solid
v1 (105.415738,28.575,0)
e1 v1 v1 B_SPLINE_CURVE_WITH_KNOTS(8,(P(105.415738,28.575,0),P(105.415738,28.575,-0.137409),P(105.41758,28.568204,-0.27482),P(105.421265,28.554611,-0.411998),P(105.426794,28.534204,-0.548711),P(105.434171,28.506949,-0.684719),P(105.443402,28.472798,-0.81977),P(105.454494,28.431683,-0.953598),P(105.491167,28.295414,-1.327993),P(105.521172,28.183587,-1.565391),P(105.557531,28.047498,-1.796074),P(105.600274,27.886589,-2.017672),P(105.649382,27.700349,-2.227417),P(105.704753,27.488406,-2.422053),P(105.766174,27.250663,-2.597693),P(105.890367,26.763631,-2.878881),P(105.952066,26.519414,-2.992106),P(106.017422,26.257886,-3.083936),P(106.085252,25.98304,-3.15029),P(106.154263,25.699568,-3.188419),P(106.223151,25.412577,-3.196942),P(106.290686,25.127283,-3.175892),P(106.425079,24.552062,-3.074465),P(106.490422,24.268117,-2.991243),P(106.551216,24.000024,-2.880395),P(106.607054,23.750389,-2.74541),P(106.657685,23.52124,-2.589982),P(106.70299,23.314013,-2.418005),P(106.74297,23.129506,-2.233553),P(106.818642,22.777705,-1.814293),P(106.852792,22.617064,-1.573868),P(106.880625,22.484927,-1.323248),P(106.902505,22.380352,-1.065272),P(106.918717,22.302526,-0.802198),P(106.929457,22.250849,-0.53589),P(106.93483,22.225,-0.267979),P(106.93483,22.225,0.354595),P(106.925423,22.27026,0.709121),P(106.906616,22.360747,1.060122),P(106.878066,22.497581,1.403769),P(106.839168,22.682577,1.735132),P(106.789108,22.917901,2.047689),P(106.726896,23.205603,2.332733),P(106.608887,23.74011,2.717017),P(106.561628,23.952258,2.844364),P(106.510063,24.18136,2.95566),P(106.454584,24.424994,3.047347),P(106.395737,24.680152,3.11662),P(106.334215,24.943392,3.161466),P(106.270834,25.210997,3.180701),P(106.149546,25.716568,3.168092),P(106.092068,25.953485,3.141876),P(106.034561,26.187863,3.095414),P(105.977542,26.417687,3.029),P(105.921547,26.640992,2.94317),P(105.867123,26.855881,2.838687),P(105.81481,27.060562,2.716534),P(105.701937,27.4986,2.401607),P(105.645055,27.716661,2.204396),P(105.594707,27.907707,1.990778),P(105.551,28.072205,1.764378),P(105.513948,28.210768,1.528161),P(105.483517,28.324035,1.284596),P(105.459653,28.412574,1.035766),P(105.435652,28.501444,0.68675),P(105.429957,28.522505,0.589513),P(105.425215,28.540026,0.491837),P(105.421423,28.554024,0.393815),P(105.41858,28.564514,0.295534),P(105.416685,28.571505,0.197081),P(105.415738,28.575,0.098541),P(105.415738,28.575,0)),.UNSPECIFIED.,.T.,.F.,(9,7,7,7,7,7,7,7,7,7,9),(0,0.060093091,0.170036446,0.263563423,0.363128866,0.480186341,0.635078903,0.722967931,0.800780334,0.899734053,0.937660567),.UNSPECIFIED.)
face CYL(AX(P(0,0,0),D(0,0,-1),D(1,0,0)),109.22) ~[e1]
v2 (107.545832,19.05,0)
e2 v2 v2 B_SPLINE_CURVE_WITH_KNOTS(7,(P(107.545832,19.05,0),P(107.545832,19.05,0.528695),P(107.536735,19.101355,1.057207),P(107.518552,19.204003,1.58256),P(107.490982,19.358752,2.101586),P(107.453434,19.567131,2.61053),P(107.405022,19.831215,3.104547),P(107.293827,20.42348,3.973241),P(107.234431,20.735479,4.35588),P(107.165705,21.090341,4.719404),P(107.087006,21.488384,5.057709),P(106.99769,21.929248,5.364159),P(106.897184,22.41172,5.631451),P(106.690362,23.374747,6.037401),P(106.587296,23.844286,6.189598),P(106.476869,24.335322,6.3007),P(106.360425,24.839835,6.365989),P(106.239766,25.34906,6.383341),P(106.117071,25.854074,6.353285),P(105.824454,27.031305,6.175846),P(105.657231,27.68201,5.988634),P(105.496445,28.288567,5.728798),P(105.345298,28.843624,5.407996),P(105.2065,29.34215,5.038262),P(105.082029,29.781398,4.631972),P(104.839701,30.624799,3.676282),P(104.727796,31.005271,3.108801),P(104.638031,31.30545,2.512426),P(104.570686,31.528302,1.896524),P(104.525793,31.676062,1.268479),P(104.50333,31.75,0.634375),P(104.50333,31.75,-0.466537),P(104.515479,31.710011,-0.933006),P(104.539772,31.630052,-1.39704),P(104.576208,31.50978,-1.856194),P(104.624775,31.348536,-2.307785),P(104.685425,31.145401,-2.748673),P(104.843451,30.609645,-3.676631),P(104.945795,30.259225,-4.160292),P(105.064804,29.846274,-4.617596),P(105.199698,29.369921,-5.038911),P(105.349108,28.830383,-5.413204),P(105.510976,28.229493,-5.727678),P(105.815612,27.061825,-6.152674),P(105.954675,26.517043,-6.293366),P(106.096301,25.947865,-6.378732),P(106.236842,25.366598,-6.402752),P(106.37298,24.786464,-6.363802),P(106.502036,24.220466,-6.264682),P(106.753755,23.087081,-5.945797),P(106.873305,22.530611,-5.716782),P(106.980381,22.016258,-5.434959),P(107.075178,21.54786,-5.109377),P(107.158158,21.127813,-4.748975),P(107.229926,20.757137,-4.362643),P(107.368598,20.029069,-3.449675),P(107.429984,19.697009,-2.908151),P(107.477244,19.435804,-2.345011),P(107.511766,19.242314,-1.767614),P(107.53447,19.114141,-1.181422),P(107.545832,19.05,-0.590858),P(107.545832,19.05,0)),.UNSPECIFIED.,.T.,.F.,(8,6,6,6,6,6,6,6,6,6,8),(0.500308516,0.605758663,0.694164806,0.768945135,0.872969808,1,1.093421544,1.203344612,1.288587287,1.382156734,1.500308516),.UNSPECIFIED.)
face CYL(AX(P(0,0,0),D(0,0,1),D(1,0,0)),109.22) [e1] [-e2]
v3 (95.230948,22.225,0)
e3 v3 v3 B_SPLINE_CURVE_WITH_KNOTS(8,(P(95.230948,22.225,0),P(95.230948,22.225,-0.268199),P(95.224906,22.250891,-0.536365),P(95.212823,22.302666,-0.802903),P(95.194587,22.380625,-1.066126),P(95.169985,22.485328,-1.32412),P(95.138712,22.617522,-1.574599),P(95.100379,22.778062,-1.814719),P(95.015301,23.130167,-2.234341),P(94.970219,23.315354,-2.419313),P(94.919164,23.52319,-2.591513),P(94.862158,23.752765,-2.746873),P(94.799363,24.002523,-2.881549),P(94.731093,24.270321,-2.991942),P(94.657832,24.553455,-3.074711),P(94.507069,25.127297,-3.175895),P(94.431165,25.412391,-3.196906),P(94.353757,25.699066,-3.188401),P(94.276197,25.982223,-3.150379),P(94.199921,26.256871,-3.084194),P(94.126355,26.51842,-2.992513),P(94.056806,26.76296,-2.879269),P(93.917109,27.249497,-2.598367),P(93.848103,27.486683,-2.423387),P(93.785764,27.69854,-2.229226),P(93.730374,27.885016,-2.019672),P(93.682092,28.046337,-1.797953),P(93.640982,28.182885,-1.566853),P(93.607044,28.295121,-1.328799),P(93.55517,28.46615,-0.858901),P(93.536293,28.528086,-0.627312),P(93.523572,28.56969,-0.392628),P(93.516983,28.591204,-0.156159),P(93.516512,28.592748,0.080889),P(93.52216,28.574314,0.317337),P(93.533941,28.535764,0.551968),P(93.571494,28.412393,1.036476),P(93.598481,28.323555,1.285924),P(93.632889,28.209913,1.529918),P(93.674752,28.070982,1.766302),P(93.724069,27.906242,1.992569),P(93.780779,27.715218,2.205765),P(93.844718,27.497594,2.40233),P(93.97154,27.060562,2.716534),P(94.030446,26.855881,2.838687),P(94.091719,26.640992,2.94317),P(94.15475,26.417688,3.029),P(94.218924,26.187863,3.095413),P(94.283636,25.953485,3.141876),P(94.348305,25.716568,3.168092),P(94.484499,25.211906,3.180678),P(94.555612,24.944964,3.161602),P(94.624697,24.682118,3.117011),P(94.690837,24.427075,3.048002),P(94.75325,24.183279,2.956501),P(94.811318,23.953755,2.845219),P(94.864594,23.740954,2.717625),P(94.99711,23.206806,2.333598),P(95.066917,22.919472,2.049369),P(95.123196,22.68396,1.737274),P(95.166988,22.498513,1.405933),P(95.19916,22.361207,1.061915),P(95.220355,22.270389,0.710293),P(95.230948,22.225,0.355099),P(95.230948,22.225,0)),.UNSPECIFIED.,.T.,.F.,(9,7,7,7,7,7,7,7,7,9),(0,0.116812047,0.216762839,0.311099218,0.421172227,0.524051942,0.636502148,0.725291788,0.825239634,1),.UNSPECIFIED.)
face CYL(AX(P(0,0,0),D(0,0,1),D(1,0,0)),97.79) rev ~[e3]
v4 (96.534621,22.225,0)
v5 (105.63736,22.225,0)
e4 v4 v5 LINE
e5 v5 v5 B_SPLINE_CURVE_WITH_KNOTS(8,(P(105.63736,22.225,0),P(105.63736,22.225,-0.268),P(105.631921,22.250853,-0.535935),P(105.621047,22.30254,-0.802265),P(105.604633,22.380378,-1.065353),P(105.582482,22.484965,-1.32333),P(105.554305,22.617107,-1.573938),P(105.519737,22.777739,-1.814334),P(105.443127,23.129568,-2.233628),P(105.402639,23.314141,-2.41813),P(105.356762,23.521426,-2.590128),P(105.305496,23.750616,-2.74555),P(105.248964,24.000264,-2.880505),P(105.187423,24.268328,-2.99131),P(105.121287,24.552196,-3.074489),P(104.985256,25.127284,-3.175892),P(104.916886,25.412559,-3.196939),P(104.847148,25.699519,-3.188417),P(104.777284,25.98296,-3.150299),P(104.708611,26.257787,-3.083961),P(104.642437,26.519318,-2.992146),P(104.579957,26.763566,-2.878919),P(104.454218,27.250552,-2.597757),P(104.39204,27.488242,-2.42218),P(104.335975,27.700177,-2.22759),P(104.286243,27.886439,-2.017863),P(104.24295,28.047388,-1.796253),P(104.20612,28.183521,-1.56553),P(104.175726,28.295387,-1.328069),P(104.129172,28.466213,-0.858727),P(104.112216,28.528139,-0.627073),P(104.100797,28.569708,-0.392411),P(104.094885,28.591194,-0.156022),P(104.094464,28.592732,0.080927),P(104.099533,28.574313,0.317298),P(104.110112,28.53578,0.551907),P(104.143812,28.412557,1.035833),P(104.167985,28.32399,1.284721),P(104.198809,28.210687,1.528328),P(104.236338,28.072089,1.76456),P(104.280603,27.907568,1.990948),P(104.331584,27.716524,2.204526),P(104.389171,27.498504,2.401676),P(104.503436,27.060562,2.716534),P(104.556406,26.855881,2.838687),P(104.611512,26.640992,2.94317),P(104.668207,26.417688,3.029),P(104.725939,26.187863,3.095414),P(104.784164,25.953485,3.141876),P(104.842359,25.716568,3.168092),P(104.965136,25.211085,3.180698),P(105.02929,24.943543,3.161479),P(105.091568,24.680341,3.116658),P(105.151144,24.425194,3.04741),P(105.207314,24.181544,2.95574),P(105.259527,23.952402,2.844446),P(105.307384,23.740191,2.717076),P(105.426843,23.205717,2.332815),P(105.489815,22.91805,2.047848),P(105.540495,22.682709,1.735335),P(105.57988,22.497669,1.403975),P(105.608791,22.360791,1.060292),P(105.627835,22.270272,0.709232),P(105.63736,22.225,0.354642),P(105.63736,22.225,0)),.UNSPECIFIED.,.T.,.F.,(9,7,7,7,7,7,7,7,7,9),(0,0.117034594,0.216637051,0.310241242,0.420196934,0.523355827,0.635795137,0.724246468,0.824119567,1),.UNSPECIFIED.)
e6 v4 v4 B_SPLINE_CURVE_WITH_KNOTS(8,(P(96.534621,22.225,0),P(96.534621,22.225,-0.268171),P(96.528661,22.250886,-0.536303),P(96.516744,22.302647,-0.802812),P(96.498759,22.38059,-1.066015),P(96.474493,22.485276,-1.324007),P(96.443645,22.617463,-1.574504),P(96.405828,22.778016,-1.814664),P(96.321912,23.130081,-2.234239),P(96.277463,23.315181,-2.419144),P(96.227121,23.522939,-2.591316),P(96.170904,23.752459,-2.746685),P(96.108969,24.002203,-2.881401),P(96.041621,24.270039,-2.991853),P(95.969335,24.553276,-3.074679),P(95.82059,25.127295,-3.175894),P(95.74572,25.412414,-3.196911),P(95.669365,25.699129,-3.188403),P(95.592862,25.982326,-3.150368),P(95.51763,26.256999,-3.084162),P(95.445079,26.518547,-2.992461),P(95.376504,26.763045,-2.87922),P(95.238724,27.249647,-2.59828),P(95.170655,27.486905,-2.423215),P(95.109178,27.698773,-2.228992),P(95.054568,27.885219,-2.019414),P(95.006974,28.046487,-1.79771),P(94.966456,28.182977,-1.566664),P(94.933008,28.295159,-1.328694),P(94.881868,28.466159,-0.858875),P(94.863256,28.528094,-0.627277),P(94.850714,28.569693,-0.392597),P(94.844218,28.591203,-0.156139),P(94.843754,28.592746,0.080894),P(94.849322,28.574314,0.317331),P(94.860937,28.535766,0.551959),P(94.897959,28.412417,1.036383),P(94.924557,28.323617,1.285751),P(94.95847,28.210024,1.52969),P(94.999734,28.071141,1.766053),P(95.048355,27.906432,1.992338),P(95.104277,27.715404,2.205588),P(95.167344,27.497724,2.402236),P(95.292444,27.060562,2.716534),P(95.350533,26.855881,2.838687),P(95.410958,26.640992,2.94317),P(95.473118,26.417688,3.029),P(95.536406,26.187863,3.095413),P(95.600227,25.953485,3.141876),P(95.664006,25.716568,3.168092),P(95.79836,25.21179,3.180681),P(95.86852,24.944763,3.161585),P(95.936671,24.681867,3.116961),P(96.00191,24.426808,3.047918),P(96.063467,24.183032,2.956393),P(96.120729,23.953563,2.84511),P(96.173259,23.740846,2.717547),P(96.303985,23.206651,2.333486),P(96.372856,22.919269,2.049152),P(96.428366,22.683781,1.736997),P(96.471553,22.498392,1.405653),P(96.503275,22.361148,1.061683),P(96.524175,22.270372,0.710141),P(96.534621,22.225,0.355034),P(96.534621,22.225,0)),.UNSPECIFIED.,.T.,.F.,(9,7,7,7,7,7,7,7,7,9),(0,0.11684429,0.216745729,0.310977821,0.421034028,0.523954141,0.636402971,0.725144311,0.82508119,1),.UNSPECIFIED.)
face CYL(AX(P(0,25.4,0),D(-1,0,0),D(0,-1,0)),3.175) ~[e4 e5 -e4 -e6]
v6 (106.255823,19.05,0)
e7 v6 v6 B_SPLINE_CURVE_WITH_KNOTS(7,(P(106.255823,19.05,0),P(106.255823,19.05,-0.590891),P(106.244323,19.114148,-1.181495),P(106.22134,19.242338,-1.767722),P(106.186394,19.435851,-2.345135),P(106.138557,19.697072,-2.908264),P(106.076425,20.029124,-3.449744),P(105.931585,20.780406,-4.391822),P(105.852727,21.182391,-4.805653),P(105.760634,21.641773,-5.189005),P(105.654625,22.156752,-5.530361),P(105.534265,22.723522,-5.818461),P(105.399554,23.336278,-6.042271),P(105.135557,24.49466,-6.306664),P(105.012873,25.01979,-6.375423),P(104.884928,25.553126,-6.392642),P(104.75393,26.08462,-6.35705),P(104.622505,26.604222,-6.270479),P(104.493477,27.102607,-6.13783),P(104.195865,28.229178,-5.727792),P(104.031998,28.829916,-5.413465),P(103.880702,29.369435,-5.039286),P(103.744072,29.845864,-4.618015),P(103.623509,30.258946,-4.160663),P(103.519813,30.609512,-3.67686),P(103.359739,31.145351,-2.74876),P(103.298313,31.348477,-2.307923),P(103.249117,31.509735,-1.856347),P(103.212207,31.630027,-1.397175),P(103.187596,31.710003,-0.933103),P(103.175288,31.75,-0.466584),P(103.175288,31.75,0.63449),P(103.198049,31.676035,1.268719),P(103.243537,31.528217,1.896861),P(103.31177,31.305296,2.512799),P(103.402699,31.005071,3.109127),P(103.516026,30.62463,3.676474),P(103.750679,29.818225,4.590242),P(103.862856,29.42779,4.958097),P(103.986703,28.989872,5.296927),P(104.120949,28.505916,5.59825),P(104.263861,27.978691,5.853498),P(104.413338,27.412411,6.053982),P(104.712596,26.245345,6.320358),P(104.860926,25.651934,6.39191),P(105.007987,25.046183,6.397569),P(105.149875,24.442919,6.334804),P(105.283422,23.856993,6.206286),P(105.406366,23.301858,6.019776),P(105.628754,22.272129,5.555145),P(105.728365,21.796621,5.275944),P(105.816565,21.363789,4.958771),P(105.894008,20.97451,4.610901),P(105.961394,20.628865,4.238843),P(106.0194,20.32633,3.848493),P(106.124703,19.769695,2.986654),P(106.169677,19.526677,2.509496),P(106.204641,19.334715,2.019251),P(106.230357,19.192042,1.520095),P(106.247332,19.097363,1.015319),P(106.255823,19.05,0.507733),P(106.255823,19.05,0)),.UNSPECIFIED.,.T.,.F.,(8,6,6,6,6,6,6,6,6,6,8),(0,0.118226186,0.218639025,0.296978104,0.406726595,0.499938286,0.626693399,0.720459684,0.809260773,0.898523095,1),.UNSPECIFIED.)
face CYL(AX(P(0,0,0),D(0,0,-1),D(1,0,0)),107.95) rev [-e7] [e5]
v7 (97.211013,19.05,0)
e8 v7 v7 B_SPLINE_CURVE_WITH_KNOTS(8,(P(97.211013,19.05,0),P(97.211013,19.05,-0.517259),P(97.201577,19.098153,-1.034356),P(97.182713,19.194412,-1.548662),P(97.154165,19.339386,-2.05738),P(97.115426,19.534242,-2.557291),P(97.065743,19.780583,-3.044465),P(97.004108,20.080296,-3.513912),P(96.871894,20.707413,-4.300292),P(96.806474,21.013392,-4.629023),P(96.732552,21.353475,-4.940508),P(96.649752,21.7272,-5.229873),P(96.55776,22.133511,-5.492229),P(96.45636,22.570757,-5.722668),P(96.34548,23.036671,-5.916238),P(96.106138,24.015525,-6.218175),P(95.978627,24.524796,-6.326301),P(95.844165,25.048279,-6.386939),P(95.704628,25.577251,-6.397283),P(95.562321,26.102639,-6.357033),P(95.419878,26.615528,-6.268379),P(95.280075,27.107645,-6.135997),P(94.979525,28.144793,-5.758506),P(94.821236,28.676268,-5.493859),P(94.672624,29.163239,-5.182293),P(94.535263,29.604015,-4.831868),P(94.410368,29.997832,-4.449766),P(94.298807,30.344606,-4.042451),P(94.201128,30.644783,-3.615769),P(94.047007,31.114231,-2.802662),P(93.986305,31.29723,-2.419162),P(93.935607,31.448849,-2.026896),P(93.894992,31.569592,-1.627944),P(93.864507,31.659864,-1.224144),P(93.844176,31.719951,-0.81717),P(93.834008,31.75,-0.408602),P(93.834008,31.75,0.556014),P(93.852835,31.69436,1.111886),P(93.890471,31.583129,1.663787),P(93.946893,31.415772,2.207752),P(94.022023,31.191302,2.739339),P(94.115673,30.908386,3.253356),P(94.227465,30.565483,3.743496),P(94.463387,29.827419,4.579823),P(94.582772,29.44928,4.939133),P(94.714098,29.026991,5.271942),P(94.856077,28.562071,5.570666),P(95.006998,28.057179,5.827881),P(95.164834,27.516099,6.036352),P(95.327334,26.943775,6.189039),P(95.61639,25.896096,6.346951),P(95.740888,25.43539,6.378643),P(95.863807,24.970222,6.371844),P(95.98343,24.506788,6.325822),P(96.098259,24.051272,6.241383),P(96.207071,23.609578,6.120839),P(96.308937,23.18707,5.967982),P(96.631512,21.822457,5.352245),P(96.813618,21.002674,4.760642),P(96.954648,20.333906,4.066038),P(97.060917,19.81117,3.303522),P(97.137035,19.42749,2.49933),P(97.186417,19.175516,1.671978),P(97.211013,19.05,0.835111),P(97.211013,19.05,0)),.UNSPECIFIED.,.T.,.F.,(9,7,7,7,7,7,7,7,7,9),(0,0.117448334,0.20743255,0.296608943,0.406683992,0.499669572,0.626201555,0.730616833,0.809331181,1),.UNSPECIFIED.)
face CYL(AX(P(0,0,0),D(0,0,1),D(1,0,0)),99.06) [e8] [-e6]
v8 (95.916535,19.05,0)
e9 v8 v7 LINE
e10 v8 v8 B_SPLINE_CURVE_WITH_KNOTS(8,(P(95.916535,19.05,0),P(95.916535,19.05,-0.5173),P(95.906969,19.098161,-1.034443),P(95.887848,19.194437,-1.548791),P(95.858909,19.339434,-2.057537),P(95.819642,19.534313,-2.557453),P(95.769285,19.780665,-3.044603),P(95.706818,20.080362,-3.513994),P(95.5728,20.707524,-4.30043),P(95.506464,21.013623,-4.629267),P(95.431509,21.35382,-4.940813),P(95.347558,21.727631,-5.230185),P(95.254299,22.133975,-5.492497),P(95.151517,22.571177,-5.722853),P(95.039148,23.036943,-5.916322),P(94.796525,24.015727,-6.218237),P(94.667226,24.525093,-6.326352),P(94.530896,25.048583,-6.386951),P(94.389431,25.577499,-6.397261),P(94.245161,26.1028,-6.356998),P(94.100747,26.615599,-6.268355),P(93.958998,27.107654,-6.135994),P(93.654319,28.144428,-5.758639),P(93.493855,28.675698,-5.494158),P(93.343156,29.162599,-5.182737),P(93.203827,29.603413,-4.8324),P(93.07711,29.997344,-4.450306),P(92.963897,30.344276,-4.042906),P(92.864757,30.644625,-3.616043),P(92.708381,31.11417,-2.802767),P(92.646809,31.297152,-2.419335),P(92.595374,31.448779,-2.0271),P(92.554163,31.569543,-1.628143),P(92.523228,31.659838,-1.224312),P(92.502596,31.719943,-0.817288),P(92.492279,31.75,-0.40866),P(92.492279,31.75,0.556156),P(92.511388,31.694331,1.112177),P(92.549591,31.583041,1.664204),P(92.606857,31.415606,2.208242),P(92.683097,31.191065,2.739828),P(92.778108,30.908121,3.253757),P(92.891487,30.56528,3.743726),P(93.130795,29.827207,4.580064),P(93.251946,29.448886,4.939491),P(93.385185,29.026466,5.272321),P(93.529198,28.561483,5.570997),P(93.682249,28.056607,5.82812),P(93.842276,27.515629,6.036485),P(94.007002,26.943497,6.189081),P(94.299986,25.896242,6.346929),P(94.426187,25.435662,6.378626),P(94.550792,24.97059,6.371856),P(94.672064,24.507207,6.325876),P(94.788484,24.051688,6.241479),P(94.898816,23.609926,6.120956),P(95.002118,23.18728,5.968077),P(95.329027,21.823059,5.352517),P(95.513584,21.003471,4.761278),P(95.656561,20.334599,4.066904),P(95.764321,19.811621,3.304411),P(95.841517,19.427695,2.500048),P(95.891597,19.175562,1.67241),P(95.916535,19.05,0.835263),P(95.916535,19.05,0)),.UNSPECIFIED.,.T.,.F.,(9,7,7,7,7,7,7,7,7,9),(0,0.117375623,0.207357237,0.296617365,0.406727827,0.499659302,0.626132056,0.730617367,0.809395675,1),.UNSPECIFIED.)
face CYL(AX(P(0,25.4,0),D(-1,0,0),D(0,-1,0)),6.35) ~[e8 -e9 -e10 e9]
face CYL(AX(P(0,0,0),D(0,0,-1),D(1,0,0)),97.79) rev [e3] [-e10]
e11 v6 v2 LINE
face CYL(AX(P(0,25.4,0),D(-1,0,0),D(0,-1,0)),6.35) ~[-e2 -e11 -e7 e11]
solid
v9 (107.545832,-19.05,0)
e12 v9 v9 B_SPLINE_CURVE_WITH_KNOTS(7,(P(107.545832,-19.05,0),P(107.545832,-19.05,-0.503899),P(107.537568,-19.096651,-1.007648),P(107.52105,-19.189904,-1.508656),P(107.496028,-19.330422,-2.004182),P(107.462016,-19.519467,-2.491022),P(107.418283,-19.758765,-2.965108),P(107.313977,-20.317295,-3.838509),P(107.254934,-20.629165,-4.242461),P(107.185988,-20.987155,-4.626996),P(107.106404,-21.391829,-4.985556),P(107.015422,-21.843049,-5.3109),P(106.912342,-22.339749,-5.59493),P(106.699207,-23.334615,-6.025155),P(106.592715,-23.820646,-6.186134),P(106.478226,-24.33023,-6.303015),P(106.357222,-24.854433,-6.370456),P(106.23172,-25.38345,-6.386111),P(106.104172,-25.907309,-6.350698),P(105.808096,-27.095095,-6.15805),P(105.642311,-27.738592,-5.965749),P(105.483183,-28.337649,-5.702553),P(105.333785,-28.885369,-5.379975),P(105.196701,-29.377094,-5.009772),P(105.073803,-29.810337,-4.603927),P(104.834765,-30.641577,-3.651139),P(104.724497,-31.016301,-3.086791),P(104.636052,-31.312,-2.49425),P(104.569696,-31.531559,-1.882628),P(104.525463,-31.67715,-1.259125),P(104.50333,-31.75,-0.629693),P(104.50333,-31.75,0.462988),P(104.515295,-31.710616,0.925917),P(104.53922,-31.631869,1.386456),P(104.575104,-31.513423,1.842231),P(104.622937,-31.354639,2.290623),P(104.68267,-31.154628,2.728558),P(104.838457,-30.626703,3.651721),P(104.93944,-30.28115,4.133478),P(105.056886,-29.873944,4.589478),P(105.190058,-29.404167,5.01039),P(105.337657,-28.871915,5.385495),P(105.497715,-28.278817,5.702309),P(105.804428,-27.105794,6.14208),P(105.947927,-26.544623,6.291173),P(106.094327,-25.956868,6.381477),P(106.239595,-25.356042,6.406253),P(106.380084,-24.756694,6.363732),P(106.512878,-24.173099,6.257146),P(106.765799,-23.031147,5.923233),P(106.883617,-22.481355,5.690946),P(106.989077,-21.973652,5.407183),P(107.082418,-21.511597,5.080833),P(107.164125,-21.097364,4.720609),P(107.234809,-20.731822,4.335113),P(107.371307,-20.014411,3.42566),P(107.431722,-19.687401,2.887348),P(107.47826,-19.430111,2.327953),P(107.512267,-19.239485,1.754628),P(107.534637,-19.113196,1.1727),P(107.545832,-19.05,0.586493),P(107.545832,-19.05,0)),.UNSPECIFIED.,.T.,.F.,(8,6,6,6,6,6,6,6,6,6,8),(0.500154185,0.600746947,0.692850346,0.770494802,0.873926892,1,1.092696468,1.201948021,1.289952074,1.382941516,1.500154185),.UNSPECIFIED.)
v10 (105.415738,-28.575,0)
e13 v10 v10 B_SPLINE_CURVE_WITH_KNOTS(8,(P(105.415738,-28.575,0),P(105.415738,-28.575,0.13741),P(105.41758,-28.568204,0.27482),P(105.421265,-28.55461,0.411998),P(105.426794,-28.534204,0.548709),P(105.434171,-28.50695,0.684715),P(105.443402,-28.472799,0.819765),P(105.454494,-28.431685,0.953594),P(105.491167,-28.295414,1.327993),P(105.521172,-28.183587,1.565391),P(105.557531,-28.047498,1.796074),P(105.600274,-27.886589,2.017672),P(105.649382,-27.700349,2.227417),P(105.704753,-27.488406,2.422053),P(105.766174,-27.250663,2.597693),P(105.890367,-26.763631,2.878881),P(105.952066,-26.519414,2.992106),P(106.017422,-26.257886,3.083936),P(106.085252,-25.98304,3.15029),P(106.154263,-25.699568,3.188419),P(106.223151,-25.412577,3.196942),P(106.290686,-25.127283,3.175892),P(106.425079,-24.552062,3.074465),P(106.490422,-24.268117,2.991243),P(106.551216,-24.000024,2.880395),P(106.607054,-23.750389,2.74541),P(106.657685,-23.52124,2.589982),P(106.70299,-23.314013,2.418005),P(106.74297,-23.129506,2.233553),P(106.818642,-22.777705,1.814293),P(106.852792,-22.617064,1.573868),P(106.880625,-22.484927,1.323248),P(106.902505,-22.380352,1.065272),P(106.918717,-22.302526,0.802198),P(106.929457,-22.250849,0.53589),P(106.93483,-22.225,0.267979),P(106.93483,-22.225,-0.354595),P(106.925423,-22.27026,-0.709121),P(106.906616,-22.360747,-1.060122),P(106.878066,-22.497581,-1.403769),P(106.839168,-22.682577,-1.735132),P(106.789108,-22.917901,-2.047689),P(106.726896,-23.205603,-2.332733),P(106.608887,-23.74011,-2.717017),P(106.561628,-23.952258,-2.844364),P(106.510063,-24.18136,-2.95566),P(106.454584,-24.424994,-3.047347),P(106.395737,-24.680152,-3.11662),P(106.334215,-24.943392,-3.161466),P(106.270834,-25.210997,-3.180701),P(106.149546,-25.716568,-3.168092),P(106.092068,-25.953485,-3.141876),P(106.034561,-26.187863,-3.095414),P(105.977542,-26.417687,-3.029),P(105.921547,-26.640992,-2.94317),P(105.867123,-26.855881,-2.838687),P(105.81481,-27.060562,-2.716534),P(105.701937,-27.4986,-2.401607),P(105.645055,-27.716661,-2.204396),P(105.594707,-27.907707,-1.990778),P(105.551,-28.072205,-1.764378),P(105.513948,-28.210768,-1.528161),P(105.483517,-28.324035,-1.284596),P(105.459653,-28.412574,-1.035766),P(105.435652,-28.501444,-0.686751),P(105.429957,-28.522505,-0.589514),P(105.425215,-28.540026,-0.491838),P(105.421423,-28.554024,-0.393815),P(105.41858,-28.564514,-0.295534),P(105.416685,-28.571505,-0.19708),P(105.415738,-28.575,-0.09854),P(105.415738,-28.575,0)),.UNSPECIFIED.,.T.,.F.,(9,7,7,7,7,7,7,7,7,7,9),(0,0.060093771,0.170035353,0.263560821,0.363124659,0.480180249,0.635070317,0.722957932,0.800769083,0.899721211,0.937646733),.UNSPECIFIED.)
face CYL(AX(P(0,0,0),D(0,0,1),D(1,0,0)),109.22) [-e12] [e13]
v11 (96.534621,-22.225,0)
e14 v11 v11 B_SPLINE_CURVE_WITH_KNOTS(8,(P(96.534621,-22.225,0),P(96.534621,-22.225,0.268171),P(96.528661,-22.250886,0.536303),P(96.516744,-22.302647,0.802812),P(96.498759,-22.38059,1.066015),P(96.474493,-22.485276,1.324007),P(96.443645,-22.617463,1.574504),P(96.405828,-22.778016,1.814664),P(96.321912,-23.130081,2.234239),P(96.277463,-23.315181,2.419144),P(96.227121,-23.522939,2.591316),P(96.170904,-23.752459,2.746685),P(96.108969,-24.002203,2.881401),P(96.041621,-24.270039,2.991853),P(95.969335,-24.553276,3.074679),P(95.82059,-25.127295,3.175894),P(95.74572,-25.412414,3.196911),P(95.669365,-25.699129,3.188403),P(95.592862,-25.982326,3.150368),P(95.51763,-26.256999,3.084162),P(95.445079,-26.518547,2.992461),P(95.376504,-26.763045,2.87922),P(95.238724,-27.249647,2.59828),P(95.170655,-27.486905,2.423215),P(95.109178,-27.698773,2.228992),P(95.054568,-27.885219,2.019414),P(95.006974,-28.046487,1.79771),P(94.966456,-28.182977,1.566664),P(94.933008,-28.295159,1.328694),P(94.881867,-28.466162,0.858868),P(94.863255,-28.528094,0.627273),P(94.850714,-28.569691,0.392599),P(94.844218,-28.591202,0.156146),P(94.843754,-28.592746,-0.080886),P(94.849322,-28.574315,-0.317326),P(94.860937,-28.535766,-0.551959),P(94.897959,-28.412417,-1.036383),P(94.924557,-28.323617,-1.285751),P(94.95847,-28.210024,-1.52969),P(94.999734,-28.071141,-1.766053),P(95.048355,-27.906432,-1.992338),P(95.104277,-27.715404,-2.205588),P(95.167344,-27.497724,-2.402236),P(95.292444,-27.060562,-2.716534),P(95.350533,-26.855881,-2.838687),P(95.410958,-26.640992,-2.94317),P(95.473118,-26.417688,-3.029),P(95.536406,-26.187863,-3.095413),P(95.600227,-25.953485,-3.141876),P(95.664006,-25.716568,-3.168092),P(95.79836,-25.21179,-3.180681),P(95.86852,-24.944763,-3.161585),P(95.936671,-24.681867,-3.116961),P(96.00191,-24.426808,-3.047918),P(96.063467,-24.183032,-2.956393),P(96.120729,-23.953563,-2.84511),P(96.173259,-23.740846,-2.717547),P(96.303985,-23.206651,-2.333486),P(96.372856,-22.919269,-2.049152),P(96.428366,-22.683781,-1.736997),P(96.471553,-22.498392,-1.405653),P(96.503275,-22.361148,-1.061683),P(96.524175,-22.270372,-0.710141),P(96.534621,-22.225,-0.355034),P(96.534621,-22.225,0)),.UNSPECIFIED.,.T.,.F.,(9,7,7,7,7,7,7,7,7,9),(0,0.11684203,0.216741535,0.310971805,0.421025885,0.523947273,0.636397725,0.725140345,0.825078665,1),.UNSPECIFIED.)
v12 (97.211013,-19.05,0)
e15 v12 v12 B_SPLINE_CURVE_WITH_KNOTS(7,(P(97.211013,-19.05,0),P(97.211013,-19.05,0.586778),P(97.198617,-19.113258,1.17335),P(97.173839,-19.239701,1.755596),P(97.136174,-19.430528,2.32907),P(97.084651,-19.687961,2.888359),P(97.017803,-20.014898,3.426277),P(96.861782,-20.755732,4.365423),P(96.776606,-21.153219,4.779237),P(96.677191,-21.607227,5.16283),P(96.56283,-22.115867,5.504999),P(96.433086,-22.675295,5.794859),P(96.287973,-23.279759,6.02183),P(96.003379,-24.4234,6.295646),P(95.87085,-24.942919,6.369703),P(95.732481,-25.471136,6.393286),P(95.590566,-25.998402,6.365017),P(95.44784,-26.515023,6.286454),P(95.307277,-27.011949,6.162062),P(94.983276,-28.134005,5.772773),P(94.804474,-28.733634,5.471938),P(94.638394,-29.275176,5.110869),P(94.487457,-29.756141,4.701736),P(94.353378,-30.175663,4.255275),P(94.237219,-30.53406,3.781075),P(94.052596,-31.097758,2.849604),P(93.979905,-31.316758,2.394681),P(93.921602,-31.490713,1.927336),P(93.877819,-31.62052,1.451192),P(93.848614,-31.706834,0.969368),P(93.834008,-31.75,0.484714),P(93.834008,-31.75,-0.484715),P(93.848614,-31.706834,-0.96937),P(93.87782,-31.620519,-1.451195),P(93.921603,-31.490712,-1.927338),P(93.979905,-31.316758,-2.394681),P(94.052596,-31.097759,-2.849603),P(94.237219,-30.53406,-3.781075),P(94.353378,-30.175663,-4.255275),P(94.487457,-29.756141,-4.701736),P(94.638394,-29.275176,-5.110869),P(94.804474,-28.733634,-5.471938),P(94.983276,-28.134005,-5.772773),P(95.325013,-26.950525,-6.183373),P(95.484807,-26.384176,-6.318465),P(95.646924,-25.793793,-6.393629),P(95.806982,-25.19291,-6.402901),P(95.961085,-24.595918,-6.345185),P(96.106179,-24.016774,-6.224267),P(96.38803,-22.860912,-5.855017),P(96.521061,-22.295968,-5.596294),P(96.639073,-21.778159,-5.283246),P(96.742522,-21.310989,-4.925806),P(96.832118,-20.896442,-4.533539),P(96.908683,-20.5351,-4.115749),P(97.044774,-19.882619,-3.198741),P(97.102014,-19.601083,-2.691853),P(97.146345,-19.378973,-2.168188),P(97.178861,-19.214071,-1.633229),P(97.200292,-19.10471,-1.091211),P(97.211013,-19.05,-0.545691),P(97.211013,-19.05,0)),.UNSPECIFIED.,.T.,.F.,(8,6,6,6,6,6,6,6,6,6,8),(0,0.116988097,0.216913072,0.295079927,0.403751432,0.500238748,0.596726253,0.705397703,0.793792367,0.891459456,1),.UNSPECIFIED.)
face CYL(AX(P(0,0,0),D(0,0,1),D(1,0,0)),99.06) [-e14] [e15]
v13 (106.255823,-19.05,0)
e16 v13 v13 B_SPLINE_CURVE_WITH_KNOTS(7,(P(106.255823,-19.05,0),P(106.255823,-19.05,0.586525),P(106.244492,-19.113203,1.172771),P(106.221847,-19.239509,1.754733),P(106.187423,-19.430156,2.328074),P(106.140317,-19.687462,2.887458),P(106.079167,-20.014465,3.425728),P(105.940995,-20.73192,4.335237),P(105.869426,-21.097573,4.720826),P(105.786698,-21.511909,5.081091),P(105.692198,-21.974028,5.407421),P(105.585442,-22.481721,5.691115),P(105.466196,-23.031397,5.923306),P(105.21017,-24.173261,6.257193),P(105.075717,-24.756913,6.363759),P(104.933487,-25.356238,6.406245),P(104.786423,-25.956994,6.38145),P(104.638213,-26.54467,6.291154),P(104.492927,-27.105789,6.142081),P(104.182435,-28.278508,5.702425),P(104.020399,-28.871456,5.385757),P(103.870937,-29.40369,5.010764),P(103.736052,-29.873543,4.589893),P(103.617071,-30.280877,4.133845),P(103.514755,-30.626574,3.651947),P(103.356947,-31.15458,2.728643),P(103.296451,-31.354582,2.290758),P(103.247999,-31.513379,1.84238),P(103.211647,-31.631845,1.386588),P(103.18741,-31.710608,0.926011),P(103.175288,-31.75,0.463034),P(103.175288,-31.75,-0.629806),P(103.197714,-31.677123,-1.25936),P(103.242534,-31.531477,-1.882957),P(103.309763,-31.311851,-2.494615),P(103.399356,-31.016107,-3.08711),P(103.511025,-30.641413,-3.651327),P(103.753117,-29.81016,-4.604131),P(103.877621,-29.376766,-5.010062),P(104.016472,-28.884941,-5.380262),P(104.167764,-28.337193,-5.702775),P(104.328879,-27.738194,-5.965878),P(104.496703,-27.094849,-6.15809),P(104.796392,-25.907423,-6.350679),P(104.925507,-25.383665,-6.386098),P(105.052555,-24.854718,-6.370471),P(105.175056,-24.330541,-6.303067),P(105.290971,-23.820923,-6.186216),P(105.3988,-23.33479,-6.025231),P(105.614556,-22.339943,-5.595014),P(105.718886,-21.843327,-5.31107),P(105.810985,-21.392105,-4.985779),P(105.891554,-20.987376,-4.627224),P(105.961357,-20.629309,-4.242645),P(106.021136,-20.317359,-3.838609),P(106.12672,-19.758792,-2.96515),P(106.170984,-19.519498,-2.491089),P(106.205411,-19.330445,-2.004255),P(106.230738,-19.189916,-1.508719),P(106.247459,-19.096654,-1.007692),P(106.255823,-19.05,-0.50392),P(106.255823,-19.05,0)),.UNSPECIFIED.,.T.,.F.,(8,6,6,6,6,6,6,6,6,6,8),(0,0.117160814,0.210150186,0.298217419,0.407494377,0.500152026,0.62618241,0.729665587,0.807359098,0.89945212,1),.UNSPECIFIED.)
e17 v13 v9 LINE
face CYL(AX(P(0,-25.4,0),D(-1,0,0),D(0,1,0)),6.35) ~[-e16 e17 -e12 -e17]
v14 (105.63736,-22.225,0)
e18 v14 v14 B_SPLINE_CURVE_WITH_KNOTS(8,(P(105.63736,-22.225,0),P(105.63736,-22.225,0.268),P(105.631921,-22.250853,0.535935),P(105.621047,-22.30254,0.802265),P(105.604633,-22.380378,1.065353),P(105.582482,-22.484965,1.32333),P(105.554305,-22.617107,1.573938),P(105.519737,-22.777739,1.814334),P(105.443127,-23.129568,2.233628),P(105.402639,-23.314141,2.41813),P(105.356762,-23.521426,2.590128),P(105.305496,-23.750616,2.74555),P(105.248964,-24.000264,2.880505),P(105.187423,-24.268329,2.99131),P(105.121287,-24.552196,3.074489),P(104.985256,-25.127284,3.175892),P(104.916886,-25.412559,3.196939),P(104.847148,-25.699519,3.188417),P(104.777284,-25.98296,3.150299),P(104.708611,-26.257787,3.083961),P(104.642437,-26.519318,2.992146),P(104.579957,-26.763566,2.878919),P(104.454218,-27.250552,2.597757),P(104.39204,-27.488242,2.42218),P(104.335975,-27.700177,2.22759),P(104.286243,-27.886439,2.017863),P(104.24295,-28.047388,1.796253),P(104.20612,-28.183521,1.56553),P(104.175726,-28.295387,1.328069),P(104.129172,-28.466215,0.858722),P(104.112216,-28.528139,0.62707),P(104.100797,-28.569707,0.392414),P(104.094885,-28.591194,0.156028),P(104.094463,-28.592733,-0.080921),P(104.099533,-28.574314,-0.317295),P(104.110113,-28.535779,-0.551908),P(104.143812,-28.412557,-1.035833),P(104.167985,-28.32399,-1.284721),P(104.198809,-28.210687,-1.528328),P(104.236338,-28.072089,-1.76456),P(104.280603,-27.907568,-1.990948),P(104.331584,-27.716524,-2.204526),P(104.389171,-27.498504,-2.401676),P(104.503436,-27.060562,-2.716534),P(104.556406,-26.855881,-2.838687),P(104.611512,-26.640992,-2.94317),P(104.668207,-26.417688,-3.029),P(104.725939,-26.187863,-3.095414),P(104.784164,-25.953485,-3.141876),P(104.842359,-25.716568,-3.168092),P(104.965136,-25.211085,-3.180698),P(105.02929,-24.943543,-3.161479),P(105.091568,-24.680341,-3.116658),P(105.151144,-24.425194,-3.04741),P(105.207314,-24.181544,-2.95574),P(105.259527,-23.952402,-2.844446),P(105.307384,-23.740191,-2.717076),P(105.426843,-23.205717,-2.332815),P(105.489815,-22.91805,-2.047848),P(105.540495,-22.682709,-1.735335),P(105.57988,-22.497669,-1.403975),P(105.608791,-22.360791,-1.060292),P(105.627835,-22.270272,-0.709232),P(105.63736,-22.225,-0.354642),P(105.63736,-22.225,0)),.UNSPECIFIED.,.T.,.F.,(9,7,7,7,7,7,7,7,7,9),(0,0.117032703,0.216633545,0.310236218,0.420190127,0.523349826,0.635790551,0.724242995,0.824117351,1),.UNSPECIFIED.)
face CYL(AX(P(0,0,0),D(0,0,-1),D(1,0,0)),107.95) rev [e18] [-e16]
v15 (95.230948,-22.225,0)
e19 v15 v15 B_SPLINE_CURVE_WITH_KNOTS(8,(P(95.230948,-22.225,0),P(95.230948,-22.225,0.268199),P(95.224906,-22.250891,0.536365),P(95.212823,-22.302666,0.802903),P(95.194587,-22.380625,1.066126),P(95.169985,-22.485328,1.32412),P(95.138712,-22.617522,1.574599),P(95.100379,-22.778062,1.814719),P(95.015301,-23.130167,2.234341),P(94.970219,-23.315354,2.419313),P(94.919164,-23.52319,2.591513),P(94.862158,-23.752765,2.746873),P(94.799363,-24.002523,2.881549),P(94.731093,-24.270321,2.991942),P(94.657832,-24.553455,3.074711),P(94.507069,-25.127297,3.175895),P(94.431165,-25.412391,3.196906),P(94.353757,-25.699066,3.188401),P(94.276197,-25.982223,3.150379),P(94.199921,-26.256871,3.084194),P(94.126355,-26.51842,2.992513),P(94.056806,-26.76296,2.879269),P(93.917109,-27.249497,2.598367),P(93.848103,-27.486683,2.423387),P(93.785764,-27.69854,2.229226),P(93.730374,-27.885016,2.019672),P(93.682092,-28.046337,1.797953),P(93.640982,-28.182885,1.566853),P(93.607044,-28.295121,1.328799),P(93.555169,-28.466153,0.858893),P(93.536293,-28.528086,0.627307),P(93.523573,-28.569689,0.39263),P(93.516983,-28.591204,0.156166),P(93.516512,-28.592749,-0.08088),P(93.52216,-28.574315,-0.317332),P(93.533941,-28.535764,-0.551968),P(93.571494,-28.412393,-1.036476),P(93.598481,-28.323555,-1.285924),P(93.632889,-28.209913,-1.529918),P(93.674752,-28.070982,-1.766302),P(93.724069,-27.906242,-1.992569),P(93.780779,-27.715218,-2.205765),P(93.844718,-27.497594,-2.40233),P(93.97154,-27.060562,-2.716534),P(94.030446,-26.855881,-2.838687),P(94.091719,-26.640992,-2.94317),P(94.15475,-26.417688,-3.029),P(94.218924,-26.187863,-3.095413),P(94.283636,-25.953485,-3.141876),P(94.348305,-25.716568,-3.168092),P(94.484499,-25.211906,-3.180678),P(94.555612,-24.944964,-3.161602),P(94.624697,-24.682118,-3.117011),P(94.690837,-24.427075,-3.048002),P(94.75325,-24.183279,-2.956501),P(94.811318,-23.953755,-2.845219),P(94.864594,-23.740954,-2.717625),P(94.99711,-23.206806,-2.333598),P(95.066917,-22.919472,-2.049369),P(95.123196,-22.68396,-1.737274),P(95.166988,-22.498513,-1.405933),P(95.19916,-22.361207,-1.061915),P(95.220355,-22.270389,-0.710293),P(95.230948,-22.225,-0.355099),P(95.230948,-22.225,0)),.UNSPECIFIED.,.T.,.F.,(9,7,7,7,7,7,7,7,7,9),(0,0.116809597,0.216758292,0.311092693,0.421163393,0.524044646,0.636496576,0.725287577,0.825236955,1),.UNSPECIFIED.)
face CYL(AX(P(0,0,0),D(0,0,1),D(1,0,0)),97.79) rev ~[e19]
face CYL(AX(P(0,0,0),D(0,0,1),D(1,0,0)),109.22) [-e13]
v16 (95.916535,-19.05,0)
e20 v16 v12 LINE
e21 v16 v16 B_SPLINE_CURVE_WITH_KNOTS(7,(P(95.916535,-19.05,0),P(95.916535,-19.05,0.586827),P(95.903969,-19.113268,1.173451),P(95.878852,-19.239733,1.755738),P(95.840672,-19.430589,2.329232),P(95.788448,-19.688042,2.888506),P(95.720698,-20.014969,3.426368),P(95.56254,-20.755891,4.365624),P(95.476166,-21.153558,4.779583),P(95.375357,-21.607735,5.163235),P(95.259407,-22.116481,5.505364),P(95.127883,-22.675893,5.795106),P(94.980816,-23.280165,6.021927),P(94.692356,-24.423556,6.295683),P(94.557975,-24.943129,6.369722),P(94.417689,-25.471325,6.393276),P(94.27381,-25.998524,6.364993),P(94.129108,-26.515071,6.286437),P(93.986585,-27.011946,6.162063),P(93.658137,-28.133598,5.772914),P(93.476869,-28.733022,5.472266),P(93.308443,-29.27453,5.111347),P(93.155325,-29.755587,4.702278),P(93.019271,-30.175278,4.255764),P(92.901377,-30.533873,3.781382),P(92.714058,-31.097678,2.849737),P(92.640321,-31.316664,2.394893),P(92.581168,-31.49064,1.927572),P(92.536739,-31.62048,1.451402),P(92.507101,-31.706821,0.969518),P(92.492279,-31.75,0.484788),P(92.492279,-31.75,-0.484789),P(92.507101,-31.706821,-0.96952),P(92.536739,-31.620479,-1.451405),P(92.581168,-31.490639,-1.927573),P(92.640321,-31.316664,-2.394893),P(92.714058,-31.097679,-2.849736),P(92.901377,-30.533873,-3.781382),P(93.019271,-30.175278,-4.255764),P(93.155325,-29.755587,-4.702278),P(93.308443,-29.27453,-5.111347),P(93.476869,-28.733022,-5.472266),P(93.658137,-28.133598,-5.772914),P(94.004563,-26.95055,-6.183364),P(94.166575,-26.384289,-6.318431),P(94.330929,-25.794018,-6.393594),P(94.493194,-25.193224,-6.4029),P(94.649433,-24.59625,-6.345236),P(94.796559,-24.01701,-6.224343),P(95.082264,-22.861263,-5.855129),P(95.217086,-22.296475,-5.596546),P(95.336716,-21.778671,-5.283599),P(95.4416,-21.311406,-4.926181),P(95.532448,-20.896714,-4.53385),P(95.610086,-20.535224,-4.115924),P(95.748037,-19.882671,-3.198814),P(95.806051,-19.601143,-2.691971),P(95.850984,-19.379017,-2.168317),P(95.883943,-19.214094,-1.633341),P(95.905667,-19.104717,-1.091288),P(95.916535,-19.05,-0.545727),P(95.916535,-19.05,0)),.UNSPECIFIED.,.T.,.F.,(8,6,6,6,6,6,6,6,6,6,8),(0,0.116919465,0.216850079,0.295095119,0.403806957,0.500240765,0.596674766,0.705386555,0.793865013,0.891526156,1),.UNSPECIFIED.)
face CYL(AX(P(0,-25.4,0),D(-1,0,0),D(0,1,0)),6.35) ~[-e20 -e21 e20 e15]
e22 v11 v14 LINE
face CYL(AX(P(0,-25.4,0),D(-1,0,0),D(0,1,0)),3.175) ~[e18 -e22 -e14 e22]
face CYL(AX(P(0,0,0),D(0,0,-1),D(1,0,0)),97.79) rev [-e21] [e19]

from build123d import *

# Parameters (mm, degrees)
F1_R     = 99.06
F1_R_2   = 97.79
F2_DEPTH = 12.7
F1_R_3   = 109.22
F1_R_4   = 107.95
F0_R     = 6.35
F0_R_2   = 3.175
F3_DEPTH = 208.28
F4_DEPTH = 113.03
F1_R_5   = 152.4
F5_DEPTH = 12.7


with BuildPart() as f2:
    # F1 (on Top) → F2 (new body, symmetric)
    with BuildSketch(Plane.XY):
        Circle(F1_R)
        Circle(F1_R_2, mode=Mode.SUBTRACT)
    extrude(amount=F2_DEPTH, both=True)


with BuildPart() as f2b:
    # F1 (on Top) → F2, piece 2 (new body, symmetric)
    with BuildSketch(Plane.XY):
        Circle(F1_R_3)
        Circle(F1_R_4, mode=Mode.SUBTRACT)
    extrude(amount=F2_DEPTH, both=True)


with BuildPart() as f3_tool:
    # F0 (on Right) → F3 (new body)
    with BuildSketch(Plane.YZ):
        with Locations((-25.4, 0)):
            Circle(F0_R)
        with Locations((-25.4, 0)):
            Circle(F0_R_2, mode=Mode.SUBTRACT)
        with BuildLine():
            ThreePointArc((31.75, 0), (25.4, 6.35), (19.05, 0))
            ThreePointArc((19.05, 0), (25.4, -6.35), (31.75, 0))
        make_face()
        with BuildLine():
            ThreePointArc((28.575, 0), (25.4, -3.175), (22.225, 0))
            ThreePointArc((22.225, 0), (25.4, 3.175), (28.575, 0))
        make_face(mode=Mode.SUBTRACT)
        with Locations((-25.4, 0)):
            Circle(F0_R_2)
        with BuildLine():
            ThreePointArc((28.575, 0), (25.4, 3.175), (22.225, 0))
            ThreePointArc((22.225, 0), (25.4, -3.175), (28.575, 0))
        make_face()
    extrude(amount=F3_DEPTH)


with BuildPart() as f2_1:
    add(f2.part)

    # F3: intersect by f3_tool
    add(f3_tool.part, mode=Mode.INTERSECT)



with BuildPart() as f2b_1:
    add(f2b.part)

    # F3: intersect by f3_tool
    add(f3_tool.part, mode=Mode.INTERSECT)


with BuildPart() as f2_2:
    add(f2_1.part)

    add(f2b_1.part)  # F4 merges F2b
    # F0 (on Right) → F4 (join)
    with BuildSketch(Plane.YZ):
        with Locations((-25.4, 0)):
            Circle(F0_R_2)
        with BuildLine():
            ThreePointArc((28.575, 0), (25.4, 3.175), (22.225, 0))
            ThreePointArc((22.225, 0), (25.4, -3.175), (28.575, 0))
        make_face()
    extrude(amount=F4_DEPTH)

    # F1 (on Top) → F5 (cut, symmetric)
    with BuildSketch(Plane.XY):
        Circle(F1_R_5)
        Circle(F1_R_3, mode=Mode.SUBTRACT)
        Circle(F1_R_2)
    extrude(amount=F5_DEPTH, both=True, mode=Mode.SUBTRACT)


solid = f2_2.part
